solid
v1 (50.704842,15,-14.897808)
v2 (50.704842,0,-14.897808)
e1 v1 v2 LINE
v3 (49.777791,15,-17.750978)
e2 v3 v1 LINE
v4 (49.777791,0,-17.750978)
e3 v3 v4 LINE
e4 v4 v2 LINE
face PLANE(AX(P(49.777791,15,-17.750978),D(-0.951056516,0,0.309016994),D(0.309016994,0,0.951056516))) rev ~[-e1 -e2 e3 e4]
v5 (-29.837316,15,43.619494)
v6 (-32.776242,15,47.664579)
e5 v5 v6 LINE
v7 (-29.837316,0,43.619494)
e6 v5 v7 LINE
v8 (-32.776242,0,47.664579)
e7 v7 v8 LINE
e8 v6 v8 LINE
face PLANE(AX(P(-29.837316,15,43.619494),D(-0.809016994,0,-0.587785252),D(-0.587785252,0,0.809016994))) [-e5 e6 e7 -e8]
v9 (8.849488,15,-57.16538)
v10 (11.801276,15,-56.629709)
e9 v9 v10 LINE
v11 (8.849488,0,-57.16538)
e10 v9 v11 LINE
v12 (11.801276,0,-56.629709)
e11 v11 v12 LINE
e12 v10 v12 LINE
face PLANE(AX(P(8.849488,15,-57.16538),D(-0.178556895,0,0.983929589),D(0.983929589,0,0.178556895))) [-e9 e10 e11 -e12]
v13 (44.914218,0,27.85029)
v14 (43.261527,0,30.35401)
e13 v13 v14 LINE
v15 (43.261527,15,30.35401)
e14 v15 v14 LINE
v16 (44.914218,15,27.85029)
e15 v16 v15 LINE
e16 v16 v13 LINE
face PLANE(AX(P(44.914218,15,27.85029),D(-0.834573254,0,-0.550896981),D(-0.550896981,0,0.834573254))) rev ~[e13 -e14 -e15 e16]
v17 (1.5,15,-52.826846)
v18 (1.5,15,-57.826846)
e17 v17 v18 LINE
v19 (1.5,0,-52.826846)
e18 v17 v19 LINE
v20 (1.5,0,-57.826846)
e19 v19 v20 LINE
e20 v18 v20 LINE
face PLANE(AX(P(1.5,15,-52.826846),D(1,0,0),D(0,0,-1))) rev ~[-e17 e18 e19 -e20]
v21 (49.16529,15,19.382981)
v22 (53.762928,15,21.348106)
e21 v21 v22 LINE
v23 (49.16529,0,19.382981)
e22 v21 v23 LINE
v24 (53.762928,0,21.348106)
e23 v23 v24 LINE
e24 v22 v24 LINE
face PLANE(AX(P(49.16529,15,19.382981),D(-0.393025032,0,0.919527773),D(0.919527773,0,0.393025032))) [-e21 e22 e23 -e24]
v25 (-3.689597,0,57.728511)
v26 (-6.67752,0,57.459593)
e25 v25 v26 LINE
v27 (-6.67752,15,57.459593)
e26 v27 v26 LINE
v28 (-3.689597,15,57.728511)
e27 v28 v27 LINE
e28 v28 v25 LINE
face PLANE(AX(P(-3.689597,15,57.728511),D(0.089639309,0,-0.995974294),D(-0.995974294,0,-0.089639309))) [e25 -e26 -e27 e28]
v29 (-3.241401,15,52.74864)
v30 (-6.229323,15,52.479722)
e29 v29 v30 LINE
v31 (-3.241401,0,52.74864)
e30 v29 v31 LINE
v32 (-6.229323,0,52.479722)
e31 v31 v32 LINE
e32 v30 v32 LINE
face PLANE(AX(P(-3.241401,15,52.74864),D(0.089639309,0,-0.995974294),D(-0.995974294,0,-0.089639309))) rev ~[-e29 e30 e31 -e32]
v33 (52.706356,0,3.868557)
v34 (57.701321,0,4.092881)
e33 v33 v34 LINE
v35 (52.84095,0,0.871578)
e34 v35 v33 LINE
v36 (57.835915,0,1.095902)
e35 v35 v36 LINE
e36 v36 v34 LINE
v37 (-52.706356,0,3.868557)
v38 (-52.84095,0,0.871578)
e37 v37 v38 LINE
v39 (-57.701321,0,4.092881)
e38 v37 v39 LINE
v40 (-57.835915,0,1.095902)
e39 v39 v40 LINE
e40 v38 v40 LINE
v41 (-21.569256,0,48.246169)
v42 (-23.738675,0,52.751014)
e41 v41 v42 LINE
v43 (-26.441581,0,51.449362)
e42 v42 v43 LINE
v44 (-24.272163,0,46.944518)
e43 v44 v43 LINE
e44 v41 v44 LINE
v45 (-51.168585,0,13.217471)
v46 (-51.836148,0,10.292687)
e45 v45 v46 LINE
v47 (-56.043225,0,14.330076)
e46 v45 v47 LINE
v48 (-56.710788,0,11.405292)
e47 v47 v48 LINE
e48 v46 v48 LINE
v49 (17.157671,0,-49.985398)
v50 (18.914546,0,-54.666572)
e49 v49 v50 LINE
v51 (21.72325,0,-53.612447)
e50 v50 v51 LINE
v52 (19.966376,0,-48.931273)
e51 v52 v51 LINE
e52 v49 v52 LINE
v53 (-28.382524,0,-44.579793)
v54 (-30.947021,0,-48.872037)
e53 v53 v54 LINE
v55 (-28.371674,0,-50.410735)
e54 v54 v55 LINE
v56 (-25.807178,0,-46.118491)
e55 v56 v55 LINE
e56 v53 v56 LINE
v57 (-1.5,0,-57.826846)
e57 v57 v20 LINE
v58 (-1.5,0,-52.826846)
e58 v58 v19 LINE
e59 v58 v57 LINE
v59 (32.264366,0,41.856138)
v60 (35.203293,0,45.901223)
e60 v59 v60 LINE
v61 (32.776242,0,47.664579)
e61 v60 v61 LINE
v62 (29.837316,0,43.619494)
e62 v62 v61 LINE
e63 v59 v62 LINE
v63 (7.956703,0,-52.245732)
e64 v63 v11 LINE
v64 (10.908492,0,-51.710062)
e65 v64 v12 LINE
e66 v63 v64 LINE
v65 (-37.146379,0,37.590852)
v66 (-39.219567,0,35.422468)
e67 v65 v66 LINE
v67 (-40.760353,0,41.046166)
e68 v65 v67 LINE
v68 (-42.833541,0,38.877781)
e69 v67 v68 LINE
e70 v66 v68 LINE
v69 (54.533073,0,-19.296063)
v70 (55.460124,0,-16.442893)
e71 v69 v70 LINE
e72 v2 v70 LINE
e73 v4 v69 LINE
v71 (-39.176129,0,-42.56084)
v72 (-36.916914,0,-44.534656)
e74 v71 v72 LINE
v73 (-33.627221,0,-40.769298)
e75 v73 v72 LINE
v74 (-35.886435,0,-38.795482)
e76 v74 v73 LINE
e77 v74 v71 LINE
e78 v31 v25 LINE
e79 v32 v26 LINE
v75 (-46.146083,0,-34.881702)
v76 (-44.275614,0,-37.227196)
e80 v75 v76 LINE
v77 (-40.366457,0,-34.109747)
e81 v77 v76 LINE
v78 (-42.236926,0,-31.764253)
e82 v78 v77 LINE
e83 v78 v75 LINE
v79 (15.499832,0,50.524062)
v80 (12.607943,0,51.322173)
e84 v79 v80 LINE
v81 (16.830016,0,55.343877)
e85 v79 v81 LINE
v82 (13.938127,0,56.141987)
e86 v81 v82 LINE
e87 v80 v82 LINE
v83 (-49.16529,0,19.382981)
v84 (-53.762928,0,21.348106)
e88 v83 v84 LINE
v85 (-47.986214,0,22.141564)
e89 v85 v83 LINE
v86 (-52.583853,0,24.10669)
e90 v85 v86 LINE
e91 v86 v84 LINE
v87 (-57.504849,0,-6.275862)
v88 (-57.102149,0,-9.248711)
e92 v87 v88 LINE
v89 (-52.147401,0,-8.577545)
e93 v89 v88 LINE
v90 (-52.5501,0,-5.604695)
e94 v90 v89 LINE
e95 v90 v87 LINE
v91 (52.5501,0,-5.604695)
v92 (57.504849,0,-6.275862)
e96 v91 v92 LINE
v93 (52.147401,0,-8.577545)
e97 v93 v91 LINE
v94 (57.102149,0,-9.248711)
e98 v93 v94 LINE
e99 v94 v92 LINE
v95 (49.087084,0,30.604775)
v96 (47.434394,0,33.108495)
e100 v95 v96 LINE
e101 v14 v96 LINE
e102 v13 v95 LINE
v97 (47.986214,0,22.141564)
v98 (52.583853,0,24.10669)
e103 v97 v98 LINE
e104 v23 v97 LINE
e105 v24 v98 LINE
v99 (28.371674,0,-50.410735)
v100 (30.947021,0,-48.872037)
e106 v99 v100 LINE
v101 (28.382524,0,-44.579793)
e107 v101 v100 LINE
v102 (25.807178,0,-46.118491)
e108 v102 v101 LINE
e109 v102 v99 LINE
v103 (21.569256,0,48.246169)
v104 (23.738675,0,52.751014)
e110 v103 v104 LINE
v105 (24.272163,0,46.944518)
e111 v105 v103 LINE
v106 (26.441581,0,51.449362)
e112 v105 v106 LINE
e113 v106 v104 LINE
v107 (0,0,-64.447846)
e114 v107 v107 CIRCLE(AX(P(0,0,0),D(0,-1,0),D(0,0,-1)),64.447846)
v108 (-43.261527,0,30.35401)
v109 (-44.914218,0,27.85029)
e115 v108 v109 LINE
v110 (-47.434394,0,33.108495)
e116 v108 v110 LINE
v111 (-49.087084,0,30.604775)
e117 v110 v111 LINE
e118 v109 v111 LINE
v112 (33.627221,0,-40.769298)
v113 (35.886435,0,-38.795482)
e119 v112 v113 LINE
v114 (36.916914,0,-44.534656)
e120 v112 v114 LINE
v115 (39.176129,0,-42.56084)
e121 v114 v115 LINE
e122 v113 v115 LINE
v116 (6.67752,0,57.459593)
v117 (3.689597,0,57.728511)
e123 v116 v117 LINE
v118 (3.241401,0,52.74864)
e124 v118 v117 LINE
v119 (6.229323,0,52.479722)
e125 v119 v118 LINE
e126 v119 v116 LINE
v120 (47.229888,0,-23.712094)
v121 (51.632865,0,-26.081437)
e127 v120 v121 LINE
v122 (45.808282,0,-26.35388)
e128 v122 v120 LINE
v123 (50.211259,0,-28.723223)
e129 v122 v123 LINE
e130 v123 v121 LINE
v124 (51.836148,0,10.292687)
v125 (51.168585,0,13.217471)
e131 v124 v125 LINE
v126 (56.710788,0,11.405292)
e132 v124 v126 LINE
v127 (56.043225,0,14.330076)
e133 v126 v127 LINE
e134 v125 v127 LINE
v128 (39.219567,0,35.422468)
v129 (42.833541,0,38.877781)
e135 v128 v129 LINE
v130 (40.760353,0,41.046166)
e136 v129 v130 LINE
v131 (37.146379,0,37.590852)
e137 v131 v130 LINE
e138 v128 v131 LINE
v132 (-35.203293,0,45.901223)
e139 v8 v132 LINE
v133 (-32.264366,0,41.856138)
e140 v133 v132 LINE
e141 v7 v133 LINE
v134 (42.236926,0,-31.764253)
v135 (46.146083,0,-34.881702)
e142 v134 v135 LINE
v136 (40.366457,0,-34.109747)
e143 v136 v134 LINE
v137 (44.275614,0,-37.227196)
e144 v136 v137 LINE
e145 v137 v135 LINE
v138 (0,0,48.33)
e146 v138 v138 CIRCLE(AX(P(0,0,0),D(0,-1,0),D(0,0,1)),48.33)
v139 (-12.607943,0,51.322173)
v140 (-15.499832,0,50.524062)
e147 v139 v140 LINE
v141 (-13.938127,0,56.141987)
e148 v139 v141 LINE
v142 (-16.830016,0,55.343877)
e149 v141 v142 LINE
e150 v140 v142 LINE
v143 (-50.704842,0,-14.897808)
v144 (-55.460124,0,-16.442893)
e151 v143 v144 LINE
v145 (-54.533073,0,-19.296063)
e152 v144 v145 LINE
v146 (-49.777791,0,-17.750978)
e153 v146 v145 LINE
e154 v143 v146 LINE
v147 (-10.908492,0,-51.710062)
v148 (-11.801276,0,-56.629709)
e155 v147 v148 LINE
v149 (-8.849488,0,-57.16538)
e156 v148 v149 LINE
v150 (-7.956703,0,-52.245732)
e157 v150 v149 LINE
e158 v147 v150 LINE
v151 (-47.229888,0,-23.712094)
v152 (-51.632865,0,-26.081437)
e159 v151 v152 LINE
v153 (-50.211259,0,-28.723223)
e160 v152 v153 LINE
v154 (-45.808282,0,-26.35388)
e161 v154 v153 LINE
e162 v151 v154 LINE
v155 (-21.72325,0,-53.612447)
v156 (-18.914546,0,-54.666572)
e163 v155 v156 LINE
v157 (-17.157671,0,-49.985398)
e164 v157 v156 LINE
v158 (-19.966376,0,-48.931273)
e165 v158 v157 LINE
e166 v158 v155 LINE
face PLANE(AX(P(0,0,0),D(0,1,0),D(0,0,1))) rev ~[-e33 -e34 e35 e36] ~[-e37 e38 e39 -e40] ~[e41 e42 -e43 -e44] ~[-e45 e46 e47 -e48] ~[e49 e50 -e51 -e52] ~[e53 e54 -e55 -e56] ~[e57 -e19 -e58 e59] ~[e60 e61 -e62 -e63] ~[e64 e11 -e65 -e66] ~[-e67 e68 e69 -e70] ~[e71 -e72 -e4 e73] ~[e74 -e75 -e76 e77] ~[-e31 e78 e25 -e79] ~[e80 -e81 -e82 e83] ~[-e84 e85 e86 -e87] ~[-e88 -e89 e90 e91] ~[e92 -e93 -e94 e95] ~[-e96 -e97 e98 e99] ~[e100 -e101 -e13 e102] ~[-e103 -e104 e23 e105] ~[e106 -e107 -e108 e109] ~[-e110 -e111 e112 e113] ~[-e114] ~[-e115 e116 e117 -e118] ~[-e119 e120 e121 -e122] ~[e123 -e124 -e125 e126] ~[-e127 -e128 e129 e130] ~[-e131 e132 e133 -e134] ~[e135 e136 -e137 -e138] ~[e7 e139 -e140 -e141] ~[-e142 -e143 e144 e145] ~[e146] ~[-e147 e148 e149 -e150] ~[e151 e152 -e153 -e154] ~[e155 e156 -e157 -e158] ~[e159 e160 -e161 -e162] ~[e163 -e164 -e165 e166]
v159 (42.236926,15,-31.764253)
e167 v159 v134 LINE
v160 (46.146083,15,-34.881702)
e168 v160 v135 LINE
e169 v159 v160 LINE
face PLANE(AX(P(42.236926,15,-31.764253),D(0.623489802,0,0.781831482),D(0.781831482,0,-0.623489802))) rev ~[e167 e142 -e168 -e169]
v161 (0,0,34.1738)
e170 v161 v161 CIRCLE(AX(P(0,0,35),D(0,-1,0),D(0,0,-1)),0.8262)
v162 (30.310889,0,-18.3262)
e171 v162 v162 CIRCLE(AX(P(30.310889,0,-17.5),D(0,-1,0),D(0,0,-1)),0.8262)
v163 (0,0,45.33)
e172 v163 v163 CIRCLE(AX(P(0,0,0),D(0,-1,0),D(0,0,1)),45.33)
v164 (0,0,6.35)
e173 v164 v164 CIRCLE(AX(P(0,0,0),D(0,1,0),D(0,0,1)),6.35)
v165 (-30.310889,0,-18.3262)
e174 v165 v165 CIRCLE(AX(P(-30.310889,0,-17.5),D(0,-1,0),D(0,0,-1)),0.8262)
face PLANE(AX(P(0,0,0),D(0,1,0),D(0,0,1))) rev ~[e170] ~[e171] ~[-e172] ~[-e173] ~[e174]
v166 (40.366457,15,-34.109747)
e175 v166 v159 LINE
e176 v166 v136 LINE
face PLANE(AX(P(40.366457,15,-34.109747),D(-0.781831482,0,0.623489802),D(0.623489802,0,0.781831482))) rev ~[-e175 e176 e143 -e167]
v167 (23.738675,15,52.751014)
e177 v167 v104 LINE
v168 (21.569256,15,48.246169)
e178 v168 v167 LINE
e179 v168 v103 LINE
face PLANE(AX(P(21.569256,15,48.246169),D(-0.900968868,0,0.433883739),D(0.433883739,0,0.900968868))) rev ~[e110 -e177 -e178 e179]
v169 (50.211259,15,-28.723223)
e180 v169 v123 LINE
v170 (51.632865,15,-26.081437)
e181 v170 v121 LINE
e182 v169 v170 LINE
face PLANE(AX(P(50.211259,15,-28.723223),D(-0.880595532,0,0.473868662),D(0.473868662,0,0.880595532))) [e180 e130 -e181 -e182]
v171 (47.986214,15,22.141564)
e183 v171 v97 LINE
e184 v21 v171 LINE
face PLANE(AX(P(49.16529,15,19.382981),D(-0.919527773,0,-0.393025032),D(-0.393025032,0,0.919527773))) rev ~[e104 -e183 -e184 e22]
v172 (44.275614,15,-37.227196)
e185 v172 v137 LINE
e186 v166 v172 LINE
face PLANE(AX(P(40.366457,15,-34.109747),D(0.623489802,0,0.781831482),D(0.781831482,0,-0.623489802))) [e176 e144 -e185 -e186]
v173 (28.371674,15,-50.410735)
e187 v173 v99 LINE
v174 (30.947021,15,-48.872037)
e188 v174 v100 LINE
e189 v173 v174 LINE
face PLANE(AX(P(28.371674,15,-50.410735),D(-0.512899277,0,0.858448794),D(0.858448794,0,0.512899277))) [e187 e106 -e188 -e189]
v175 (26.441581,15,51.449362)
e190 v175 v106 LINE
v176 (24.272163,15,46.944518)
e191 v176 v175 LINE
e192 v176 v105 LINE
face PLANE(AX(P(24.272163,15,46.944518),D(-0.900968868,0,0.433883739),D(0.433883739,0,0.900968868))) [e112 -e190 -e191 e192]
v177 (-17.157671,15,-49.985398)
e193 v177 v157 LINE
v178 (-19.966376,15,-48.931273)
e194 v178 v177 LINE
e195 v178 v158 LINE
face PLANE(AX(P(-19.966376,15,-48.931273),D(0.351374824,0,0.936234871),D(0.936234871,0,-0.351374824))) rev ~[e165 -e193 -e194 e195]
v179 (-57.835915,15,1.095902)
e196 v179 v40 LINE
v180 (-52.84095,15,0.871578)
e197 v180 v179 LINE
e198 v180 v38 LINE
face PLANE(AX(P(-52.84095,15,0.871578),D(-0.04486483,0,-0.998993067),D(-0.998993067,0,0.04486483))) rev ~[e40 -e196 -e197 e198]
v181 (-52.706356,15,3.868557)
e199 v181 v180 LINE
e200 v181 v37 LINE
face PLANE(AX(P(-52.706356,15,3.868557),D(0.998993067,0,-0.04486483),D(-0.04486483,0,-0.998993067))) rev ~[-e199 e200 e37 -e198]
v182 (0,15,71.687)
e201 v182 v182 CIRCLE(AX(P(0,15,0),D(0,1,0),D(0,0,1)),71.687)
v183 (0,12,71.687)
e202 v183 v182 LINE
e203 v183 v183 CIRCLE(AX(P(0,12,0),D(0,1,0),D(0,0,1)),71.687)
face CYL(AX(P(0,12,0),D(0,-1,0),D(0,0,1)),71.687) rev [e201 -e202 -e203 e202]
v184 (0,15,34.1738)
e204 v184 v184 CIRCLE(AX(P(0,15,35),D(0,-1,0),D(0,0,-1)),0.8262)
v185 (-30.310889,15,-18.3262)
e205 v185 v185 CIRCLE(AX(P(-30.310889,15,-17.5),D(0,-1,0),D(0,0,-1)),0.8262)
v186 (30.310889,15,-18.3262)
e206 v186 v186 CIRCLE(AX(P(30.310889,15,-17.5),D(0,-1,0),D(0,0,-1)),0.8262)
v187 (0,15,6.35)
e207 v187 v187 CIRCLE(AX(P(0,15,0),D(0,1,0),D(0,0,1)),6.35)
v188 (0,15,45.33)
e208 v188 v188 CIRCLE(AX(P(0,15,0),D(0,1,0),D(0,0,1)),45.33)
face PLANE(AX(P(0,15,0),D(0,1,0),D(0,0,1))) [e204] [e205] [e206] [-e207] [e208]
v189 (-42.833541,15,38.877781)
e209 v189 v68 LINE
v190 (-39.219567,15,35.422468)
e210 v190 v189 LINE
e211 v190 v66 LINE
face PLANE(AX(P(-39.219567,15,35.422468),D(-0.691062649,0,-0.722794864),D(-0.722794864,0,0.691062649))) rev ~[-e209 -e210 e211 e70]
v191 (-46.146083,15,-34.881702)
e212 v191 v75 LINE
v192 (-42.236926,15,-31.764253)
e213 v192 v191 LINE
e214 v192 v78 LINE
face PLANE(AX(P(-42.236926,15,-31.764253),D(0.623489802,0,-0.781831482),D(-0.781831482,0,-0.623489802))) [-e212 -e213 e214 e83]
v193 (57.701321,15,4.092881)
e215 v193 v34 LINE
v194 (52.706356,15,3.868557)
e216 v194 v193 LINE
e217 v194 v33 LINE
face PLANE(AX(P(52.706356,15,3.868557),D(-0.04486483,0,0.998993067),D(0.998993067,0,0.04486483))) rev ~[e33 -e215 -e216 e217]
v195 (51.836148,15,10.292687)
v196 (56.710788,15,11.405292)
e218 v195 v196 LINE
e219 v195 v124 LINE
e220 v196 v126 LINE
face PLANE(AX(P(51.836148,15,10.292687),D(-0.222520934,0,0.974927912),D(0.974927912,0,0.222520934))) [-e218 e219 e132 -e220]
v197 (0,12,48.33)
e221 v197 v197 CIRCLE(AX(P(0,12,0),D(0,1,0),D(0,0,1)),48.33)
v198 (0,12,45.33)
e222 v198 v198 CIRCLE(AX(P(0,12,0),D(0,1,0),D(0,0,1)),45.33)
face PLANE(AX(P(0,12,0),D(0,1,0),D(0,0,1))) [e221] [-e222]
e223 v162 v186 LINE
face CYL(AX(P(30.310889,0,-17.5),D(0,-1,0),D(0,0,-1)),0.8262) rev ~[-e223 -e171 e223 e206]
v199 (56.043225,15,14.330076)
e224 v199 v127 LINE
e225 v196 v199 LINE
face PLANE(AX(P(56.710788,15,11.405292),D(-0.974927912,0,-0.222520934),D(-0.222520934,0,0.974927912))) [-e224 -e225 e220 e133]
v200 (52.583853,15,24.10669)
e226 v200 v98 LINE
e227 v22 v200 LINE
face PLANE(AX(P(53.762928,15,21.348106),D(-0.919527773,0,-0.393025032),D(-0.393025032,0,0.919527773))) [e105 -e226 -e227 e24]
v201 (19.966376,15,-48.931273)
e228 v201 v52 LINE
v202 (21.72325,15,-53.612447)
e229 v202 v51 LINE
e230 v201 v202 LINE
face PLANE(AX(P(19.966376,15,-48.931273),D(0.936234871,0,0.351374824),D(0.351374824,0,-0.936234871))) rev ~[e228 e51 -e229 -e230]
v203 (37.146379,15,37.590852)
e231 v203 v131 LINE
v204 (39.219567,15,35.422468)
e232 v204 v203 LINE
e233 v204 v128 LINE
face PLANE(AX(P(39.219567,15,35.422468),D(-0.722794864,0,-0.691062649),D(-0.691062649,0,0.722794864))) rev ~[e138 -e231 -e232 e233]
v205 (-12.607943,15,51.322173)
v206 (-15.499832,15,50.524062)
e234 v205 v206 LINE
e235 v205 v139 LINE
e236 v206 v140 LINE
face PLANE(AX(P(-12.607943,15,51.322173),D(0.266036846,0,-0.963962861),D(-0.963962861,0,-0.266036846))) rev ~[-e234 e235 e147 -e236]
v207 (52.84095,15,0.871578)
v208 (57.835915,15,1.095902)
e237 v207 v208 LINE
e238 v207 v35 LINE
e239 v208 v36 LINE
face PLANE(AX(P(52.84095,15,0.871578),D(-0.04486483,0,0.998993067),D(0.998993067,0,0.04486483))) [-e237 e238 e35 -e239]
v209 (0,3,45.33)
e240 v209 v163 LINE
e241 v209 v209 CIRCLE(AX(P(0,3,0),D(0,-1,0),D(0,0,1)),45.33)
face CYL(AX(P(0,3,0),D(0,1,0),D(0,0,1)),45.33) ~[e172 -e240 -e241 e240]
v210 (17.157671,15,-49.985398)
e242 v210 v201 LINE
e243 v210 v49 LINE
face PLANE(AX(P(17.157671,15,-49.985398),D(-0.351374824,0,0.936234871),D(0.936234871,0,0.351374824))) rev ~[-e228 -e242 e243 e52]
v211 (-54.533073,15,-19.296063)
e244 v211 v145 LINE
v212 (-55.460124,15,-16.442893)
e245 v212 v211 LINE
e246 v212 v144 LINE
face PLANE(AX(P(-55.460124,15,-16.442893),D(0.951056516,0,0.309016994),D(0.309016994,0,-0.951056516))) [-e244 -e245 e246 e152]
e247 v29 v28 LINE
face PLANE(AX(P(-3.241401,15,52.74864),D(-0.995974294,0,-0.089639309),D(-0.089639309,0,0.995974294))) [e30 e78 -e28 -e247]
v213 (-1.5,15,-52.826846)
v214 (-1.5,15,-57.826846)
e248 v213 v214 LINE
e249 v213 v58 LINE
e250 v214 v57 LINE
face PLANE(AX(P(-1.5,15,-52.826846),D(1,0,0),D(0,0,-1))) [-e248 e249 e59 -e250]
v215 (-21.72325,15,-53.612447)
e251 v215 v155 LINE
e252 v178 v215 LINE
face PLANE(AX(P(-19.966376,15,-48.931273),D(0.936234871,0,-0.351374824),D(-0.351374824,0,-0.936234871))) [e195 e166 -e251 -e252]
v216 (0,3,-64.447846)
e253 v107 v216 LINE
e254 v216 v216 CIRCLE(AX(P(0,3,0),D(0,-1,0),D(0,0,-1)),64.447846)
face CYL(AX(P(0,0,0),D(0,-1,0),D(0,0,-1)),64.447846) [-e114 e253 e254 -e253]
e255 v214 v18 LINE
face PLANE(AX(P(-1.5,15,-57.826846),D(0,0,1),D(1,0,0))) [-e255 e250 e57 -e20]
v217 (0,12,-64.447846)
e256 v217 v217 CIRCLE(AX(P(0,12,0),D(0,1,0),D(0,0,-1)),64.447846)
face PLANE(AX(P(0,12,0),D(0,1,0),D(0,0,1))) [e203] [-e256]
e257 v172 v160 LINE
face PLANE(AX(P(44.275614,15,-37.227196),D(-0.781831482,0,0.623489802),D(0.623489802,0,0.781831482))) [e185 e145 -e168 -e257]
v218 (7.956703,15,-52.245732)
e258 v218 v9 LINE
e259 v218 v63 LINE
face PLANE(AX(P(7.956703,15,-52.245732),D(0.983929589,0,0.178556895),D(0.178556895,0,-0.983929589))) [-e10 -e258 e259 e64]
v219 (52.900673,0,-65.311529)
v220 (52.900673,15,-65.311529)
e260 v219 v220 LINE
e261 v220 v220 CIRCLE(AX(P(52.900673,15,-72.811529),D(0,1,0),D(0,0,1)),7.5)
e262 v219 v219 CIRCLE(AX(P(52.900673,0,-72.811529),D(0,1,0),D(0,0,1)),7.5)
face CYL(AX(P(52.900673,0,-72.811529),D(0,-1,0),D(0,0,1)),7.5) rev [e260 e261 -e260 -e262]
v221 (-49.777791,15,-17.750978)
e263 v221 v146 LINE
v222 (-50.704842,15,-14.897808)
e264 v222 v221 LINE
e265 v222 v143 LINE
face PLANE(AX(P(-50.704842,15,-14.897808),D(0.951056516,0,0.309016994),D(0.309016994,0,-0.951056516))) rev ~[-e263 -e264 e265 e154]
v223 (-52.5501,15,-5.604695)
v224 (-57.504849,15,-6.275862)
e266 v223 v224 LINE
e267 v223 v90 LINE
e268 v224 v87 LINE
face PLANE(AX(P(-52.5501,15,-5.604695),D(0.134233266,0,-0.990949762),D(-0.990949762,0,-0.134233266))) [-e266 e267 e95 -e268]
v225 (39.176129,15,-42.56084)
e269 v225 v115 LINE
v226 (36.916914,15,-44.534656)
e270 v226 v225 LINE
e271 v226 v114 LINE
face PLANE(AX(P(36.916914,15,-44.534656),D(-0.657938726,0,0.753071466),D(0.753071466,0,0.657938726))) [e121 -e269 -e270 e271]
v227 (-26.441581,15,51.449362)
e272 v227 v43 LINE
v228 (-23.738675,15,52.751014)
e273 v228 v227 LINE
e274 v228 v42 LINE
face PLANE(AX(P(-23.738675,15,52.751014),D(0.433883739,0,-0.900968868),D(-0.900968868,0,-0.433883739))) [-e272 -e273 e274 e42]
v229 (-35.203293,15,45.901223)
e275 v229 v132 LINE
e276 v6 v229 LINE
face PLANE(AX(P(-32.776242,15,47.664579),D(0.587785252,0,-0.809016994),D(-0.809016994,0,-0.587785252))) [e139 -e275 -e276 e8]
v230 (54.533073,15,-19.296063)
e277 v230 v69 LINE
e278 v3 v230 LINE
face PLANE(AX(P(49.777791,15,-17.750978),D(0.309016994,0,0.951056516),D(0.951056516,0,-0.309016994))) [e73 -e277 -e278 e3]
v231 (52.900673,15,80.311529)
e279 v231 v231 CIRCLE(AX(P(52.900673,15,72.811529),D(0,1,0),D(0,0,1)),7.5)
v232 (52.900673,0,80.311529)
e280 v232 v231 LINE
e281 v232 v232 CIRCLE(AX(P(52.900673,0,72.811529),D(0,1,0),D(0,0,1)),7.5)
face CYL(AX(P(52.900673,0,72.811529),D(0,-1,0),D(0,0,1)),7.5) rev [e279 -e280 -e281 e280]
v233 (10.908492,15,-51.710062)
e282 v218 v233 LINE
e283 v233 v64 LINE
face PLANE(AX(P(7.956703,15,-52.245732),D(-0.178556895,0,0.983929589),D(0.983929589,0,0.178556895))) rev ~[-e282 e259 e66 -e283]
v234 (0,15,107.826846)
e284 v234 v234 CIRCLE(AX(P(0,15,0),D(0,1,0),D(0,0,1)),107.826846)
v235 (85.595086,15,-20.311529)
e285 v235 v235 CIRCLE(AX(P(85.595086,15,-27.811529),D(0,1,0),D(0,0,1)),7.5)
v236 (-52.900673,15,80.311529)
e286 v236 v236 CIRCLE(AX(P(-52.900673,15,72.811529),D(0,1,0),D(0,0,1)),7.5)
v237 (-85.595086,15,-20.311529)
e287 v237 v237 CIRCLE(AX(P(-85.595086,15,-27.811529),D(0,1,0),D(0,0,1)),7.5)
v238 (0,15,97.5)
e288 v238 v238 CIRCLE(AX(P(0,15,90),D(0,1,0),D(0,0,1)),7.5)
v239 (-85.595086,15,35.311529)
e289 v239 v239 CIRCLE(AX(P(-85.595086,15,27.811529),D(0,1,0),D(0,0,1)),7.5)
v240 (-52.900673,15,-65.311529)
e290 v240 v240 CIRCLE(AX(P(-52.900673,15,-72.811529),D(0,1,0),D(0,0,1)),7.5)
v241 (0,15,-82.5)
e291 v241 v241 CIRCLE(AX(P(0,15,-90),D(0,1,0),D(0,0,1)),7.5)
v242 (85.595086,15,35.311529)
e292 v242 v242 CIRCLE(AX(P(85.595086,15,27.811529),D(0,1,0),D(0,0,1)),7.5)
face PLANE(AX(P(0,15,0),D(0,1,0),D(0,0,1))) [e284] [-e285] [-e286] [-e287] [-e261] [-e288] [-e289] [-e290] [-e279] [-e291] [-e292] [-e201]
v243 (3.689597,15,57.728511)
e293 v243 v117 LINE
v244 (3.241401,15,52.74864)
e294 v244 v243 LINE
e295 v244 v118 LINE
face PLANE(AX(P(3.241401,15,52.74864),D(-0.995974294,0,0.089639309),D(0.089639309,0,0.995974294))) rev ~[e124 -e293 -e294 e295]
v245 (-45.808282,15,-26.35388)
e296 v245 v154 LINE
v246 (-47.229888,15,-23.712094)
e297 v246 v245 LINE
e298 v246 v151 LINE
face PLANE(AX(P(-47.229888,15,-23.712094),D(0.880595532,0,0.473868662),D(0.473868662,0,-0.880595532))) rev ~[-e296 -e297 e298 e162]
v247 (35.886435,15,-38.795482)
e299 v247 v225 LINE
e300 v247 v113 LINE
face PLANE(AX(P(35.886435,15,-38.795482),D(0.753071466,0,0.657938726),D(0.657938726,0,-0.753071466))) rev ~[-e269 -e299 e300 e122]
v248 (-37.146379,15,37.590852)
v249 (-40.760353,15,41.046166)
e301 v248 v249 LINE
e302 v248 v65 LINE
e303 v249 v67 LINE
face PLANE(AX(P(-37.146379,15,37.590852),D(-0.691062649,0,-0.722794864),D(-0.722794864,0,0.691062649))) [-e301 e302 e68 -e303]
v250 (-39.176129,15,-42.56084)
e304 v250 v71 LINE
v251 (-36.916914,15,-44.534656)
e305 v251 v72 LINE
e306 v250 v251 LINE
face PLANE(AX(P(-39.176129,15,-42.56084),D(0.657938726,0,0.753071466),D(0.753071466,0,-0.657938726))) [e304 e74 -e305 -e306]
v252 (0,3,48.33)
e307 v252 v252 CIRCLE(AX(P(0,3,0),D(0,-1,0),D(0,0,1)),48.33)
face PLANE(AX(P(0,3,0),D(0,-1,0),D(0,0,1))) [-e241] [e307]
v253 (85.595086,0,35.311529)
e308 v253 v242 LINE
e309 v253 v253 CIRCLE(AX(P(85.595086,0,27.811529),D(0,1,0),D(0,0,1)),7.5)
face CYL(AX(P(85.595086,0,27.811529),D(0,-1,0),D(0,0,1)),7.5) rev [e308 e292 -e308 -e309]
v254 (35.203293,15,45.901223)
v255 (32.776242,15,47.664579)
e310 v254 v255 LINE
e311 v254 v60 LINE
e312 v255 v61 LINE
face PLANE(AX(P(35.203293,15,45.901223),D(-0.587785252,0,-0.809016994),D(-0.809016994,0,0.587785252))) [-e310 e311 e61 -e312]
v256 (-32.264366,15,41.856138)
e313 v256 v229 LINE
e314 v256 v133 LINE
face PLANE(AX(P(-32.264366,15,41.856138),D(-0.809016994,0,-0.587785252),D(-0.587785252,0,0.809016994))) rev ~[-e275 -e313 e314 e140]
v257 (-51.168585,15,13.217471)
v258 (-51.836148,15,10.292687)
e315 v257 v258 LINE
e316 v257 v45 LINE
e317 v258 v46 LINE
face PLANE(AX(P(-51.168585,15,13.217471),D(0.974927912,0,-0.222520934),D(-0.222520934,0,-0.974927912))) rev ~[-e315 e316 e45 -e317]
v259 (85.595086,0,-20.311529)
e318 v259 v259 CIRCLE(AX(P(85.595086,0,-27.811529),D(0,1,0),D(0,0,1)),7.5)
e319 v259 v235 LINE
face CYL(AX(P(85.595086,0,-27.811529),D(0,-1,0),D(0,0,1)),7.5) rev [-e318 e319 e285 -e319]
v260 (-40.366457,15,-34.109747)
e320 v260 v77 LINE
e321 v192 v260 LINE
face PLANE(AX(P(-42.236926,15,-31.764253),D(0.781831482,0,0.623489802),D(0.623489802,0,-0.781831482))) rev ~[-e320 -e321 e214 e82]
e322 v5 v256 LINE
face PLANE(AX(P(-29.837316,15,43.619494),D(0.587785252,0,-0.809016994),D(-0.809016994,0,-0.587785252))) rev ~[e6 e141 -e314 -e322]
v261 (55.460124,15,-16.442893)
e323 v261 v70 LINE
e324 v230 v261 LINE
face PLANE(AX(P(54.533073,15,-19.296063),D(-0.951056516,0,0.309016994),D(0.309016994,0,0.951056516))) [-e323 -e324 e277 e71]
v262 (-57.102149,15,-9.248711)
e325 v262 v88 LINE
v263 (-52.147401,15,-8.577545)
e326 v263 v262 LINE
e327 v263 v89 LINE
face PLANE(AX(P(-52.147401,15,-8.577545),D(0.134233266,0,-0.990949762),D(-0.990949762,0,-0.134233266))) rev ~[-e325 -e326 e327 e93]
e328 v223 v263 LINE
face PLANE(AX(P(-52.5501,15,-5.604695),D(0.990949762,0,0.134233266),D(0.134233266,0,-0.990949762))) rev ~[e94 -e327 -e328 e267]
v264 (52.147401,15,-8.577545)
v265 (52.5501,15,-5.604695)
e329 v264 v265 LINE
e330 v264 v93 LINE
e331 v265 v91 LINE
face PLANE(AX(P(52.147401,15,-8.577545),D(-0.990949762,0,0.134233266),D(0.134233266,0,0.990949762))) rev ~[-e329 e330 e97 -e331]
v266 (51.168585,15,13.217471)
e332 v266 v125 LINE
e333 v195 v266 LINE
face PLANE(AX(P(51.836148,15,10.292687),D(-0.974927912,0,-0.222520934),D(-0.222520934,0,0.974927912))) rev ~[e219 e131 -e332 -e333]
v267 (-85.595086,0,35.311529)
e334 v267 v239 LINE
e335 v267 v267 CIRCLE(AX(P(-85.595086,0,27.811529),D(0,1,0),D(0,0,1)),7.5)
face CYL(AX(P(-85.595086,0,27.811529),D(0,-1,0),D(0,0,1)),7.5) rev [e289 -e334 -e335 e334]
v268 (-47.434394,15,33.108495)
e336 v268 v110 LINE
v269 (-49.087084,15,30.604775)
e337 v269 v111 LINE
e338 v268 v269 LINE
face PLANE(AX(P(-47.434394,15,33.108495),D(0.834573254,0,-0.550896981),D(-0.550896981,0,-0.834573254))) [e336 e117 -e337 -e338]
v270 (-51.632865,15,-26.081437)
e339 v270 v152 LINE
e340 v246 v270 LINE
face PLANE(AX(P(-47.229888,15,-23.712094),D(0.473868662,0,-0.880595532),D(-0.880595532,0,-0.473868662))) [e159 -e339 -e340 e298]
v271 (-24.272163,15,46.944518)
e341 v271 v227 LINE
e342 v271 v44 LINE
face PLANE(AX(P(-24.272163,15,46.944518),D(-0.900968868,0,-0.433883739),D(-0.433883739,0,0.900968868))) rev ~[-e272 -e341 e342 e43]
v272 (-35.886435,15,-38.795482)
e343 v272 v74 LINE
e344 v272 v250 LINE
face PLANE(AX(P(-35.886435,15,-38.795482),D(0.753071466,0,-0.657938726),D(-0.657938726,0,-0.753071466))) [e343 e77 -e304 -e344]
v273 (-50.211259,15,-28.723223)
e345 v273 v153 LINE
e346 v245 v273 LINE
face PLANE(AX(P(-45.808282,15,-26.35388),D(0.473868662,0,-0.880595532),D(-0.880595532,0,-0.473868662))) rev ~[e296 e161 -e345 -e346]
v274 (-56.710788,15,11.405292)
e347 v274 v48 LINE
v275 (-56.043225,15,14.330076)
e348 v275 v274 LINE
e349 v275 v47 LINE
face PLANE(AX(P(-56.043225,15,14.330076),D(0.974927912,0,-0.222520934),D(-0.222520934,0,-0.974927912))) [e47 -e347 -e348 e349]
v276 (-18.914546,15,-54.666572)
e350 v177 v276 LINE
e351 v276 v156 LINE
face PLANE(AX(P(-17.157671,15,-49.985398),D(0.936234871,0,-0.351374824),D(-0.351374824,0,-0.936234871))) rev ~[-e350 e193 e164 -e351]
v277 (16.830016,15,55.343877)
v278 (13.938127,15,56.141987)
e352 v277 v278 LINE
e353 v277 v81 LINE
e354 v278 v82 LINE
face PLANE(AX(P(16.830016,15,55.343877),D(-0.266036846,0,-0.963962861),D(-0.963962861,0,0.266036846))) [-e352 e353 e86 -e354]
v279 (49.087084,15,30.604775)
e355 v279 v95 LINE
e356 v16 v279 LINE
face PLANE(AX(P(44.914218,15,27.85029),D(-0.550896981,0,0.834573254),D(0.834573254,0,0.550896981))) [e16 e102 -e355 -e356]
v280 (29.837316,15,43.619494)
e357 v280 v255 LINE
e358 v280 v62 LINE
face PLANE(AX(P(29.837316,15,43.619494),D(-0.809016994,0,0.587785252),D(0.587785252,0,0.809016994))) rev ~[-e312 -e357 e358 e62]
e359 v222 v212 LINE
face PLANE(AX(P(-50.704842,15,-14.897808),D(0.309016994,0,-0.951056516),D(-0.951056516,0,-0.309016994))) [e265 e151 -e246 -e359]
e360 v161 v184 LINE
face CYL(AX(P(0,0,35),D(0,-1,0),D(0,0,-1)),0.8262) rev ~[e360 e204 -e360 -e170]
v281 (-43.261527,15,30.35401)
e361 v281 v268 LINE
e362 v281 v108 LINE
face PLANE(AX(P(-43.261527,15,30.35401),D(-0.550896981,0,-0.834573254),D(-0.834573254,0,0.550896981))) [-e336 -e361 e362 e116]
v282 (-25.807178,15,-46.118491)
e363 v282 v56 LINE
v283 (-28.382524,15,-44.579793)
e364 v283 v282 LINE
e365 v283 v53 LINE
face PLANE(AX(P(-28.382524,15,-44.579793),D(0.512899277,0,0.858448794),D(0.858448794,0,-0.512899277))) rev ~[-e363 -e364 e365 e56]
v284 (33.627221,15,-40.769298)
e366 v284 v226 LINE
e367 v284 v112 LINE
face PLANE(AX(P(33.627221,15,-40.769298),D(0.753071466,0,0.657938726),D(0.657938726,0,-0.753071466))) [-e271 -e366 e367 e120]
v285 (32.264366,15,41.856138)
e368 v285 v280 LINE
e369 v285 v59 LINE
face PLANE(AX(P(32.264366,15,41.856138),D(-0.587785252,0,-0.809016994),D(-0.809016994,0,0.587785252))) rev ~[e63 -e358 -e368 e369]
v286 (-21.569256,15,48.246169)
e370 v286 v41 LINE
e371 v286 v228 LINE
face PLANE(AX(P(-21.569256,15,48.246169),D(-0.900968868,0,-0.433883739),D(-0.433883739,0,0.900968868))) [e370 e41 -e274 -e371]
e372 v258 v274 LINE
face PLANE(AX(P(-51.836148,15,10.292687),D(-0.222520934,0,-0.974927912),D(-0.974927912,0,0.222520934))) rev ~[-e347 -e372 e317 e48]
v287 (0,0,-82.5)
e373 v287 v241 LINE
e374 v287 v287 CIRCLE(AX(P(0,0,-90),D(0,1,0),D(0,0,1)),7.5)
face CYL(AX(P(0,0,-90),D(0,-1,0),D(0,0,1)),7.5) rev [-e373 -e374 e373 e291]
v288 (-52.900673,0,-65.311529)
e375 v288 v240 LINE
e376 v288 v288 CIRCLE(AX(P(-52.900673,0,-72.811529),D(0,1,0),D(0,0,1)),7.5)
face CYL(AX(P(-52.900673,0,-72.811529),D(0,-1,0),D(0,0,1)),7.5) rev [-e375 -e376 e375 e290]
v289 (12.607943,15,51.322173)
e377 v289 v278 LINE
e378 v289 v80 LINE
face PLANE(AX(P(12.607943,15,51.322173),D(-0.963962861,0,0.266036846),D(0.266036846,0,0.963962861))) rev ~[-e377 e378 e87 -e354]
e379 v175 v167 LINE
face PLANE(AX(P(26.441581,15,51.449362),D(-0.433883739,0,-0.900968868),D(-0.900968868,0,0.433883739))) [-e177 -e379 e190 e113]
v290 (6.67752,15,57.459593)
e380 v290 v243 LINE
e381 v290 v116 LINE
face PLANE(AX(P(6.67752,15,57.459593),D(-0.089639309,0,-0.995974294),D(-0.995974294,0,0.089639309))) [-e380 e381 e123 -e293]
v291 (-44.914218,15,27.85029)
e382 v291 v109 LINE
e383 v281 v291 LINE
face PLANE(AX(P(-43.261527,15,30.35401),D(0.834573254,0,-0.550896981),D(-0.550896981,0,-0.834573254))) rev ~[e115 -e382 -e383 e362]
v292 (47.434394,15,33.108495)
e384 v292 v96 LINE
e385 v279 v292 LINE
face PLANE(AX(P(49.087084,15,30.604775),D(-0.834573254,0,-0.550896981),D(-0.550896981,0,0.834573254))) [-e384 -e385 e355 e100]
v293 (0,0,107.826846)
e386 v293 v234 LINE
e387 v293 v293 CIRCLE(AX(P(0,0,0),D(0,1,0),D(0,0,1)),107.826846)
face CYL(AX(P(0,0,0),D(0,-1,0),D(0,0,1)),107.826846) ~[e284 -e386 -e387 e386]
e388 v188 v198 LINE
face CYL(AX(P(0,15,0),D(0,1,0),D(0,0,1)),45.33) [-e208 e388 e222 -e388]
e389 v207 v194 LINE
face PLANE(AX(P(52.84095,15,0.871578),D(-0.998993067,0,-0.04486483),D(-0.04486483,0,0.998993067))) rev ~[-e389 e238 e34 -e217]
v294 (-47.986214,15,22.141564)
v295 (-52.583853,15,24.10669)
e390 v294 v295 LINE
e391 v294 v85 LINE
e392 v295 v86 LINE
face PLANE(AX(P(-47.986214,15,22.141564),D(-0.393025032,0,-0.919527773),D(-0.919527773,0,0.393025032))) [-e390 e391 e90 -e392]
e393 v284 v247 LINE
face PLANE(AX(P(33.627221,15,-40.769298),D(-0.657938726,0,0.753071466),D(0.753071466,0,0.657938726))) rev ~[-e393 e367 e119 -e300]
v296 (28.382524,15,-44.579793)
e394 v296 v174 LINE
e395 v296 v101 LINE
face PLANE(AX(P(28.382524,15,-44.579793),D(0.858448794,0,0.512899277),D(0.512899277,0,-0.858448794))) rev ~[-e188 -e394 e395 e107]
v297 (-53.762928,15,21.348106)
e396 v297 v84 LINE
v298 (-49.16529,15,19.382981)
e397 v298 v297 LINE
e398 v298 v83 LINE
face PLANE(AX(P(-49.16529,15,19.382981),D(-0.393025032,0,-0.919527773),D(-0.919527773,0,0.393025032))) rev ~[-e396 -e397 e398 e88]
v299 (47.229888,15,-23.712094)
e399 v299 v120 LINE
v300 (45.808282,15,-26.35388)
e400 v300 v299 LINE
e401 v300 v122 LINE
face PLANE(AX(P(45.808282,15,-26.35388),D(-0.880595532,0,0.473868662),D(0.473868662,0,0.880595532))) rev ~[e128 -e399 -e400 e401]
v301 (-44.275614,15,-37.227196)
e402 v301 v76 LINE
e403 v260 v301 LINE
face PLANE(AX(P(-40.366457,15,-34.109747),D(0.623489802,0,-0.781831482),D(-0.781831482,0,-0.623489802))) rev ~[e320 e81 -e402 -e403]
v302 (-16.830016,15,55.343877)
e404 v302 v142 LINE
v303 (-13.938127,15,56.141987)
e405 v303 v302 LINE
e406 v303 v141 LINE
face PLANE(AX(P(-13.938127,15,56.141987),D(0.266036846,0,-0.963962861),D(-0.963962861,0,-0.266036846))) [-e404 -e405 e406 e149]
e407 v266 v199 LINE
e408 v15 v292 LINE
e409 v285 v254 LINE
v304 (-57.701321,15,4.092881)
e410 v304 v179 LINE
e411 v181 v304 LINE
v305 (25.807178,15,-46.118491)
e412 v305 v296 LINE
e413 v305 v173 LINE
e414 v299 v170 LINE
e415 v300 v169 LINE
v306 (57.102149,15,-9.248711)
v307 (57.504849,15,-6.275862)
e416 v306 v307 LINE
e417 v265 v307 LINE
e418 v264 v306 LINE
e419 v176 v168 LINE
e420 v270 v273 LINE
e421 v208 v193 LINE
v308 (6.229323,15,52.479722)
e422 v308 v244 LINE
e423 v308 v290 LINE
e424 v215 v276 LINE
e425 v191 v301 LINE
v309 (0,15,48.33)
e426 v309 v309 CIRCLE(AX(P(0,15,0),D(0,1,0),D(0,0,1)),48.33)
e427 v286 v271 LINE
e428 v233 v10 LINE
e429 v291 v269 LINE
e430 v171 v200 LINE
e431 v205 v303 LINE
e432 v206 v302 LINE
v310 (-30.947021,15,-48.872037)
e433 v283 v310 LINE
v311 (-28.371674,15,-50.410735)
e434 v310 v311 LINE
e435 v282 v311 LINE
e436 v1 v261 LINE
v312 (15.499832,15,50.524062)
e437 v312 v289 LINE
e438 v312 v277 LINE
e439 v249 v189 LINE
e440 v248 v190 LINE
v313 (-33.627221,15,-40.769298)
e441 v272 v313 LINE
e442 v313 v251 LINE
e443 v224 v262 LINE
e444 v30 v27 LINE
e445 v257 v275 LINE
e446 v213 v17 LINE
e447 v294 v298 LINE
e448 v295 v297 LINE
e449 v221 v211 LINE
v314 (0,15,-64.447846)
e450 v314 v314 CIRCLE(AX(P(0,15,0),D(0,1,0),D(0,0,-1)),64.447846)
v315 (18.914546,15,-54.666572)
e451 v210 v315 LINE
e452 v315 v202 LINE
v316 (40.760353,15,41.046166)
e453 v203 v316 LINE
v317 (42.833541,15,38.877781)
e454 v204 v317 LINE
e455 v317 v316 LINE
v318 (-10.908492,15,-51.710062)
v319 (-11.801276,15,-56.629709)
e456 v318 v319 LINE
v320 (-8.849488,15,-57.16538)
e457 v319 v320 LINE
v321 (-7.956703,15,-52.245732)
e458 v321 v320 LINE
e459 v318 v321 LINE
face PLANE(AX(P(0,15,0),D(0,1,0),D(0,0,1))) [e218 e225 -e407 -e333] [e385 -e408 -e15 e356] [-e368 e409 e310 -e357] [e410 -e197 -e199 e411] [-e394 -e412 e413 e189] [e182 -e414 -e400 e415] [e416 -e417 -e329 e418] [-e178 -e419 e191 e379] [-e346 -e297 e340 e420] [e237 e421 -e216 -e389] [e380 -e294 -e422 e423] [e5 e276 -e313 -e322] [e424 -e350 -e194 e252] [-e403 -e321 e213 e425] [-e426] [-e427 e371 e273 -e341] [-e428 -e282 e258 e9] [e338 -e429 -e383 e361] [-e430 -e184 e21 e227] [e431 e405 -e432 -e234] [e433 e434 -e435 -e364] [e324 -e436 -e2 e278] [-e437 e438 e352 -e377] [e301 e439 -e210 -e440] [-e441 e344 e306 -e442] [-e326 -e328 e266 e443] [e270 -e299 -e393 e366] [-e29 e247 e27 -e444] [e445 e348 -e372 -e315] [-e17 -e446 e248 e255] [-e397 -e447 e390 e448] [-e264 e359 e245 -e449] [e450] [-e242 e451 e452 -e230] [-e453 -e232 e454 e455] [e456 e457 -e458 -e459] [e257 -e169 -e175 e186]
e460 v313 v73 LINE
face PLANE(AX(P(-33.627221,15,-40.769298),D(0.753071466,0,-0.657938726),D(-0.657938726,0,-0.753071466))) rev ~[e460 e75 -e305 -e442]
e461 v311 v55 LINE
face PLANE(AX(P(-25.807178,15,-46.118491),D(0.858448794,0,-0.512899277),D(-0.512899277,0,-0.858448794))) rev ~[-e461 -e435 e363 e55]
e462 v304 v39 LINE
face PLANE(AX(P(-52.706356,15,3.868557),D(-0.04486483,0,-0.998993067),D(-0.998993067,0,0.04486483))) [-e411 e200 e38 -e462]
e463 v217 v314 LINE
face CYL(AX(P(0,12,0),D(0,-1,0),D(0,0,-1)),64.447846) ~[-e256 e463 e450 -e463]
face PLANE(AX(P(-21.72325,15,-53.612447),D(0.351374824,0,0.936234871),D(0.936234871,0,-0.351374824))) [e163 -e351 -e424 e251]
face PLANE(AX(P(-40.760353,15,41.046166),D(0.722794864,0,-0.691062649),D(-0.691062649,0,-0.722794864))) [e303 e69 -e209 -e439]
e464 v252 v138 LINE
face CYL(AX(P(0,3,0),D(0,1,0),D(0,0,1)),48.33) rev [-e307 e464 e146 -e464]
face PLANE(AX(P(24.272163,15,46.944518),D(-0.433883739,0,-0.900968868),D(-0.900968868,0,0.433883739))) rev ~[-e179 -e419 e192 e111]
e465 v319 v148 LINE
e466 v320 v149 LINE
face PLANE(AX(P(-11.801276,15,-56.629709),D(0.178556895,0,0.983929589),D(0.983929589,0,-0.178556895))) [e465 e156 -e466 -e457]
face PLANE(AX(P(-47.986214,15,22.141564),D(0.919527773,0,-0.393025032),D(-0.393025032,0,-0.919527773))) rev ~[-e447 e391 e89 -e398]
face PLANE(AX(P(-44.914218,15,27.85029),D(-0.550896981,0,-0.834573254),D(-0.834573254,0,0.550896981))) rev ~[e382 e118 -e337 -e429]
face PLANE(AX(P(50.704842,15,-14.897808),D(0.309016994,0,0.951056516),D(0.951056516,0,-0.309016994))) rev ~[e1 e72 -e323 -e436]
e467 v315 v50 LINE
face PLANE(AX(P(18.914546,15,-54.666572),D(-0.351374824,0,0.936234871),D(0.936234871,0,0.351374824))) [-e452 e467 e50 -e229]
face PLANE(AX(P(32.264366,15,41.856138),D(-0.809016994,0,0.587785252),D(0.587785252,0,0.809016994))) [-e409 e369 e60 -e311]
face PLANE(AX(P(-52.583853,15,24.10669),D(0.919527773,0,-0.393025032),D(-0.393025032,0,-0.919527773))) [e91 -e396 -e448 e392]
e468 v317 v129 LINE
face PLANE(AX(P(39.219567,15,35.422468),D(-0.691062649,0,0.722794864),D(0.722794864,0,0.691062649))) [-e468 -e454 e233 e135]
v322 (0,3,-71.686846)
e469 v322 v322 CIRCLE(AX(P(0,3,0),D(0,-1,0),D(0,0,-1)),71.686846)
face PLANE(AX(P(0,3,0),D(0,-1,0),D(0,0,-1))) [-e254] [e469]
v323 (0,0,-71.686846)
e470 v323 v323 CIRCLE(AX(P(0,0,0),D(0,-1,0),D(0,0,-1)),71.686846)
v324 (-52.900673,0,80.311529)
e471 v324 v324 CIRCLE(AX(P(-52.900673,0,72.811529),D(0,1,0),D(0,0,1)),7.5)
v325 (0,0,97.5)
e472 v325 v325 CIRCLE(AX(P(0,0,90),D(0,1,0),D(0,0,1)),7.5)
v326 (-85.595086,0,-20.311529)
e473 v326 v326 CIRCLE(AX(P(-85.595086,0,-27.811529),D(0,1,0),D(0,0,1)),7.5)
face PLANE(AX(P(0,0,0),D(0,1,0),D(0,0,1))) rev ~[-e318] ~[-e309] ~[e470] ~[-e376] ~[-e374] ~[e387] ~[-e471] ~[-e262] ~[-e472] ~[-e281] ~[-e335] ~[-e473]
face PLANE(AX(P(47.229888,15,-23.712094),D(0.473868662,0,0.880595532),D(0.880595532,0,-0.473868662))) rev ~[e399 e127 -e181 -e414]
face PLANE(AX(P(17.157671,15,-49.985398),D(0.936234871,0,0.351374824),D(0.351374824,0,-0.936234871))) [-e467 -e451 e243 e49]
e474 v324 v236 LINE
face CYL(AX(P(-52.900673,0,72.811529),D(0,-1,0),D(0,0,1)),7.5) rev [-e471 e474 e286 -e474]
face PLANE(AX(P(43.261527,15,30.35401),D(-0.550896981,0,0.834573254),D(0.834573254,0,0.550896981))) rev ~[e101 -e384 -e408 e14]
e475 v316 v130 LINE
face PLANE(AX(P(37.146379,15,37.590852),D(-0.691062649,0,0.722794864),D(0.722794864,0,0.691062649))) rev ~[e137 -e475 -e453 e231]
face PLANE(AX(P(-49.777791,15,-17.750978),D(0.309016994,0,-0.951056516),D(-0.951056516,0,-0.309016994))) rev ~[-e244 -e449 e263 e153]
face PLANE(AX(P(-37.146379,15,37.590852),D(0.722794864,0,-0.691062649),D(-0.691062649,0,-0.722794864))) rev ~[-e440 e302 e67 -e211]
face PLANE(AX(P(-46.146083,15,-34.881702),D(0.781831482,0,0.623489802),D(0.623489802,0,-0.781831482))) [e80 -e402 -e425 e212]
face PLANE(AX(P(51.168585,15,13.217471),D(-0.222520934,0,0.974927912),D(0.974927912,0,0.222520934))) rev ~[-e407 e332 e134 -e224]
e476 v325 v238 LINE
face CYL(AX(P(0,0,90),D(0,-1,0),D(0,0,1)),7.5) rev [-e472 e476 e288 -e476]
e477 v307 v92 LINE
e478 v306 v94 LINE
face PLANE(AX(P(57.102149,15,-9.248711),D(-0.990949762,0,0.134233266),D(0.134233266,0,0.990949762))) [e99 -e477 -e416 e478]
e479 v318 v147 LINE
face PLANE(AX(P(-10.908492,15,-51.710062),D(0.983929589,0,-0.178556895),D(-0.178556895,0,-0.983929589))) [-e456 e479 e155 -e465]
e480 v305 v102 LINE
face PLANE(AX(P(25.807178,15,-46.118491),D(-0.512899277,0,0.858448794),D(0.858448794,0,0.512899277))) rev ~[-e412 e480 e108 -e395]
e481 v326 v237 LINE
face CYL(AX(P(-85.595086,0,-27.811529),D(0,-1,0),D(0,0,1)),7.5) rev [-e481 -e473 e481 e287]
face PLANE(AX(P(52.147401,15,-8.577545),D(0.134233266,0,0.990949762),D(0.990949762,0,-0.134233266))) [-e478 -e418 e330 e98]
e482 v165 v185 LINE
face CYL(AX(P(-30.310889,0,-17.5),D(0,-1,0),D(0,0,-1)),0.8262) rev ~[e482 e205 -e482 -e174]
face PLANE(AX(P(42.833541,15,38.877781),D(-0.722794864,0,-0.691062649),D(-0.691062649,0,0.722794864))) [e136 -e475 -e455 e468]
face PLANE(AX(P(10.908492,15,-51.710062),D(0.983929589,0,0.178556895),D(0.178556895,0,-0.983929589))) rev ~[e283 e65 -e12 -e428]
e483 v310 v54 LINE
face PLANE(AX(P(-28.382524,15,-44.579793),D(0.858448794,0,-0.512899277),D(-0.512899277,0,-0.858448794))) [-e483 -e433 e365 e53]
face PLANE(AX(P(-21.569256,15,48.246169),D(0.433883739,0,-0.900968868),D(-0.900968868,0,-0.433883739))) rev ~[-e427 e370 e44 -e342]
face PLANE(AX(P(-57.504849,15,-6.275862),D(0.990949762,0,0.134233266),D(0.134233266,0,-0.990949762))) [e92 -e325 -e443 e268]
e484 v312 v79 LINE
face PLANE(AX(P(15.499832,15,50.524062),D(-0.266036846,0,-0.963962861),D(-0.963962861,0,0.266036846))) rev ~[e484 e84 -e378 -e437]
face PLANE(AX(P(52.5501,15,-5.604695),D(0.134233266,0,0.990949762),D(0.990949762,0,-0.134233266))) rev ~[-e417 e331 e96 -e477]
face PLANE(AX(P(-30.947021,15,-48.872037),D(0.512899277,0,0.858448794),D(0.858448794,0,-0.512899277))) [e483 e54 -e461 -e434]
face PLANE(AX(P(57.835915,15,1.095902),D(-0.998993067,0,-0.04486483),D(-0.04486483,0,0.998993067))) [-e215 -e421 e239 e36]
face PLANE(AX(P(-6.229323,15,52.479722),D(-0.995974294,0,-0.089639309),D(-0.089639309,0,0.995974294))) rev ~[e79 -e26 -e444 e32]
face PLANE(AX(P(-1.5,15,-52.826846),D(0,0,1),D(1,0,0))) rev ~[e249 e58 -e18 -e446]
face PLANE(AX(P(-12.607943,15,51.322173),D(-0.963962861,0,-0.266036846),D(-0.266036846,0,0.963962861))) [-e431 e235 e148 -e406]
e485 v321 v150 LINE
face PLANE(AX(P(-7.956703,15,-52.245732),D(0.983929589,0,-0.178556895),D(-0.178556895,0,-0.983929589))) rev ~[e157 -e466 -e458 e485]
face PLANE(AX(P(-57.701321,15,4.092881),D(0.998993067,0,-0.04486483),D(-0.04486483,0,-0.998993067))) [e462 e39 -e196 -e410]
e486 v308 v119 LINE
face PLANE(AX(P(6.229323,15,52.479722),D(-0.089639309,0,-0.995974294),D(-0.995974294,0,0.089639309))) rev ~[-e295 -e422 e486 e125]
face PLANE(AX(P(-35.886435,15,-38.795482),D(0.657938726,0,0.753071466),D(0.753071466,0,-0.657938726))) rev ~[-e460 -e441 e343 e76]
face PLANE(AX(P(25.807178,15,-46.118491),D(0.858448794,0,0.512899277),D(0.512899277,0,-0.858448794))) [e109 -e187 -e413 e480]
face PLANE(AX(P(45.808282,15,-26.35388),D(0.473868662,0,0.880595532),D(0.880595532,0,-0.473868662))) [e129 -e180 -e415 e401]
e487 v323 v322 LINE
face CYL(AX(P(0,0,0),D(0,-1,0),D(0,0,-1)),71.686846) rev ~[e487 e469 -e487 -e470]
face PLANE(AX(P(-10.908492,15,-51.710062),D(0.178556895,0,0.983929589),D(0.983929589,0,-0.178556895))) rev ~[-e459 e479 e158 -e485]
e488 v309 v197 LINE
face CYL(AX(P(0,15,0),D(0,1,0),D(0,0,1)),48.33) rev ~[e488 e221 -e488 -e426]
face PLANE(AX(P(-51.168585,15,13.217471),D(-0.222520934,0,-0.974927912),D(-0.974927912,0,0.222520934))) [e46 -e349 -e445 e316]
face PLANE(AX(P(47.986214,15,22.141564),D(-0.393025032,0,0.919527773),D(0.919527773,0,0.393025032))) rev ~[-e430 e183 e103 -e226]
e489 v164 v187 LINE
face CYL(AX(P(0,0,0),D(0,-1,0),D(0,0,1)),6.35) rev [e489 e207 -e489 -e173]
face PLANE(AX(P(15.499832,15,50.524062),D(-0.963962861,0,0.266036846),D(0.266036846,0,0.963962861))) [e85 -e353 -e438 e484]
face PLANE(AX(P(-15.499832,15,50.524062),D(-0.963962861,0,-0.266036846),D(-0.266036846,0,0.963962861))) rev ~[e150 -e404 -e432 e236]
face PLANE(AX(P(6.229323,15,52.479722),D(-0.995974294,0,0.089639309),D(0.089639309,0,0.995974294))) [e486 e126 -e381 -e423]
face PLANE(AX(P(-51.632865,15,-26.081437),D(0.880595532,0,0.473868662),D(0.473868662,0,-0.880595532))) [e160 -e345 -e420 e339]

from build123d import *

# Parameters (mm, degrees)
SKETCH1_R                       = 107.826846
SKETCH1_R_2                     = 7.5
SKETCH1_R_3                     = 6.35
FACEPLATE_EXTRUSION_DEPTH       = 15
REGEN_CHANNELS_W                = 3
REGEN_CHANNELS_H                = 5
REGEN_CHANNEL_DEPTH             = 154.226164334
REGEN_CHANNELS_REVOLVE_COUNT    = 35
SKETCH30_R                      = 71.686846
SKETCH30_R_2                    = 64.447846
INTERFACING_O_RING_SLOT_1_DEPTH = 3
INTERFACING_START               = -3
SKETCH32_R                      = 71.687
SKETCH32_R_2                    = 64.447846
INTERFACING_O_RING_SLOT_2_DEPTH = 3
SKETCH33_R                      = 48.33
SKETCH33_R_2                    = 45.33
MANIFOLD_O_RING_SLOT_1_DEPTH    = 3
MANIFOLD_START                  = -3
SKETCH34_R                      = 48.33
SKETCH34_R_2                    = 45.33
MANIFOLD_O_RING_SLOT_2_DEPTH    = 3
SKETCH35_R                      = 0.8262
FUEL_BYPASS_CHANNELS_DEPTH      = 154.226164334


with BuildPart() as part:
    # Sketch1 → Faceplate Extrusion (new body)
    with BuildSketch(Plane(origin=(0, 0, 0), x_dir=(1, 0, 0), z_dir=(0, 1, 0))):
        with Locations(Location((0, 0, 0), (0, 0, 270))):
            Circle(SKETCH1_R)
        with Locations(Location((0, 90, 0), (0, 0, 270))):
            Circle(SKETCH1_R_2, mode=Mode.SUBTRACT)
        with Locations(Location((52.900672706, 72.811529494, 0), (0, 0, 270))):
            Circle(SKETCH1_R_2, mode=Mode.SUBTRACT)
        with Locations(Location((85.595086467, 27.811529494, 0), (0, 0, 270))):
            Circle(SKETCH1_R_2, mode=Mode.SUBTRACT)
        with Locations(Location((85.595086467, -27.811529494, 0), (0, 0, 270))):
            Circle(SKETCH1_R_2, mode=Mode.SUBTRACT)
        with Locations(Location((52.900672706, -72.811529494, 0), (0, 0, 270))):
            Circle(SKETCH1_R_2, mode=Mode.SUBTRACT)
        with Locations(Location((0, -90, 0), (0, 0, 270))):
            Circle(SKETCH1_R_2, mode=Mode.SUBTRACT)
        with Locations(Location((-52.900672706, -72.811529494, 0), (0, 0, 270))):
            Circle(SKETCH1_R_2, mode=Mode.SUBTRACT)
        with Locations(Location((-85.595086467, -27.811529494, 0), (0, 0, 270))):
            Circle(SKETCH1_R_2, mode=Mode.SUBTRACT)
        with Locations(Location((-85.595086467, 27.811529494, 0), (0, 0, 270))):
            Circle(SKETCH1_R_2, mode=Mode.SUBTRACT)
        with Locations(Location((-52.900672706, 72.811529494, 0), (0, 0, 270))):
            Circle(SKETCH1_R_2, mode=Mode.SUBTRACT)
        with Locations(Location((0, 0, 0), (0, 0, 270))):
            Circle(SKETCH1_R_3, mode=Mode.SUBTRACT)
    extrude(amount=FACEPLATE_EXTRUSION_DEPTH)

    # Regen Channels → Regen Channel (cut, through all)
    with BuildSketch(Plane(origin=(0, 15, 0), x_dir=(1, 0, 0), z_dir=(0, 1, 0))):
        with Locations((0, 55.326846)):
            Rectangle(REGEN_CHANNELS_W, REGEN_CHANNELS_H)
    regen_channel = extrude(amount=-REGEN_CHANNEL_DEPTH, mode=Mode.SUBTRACT)

    # Regen Channels Revolve: Regen Channel ×35 about axis
    regen_channels_revolve_axis = Axis((0, 0, 0), (0, 1, 0))
    for i in range(1, REGEN_CHANNELS_REVOLVE_COUNT):
        add(regen_channel.rotate(regen_channels_revolve_axis, i * 360 / REGEN_CHANNELS_REVOLVE_COUNT), mode=Mode.SUBTRACT)

    # Sketch30 → Interfacing O-Ring Slot 1 (cut)
    with BuildSketch(Plane.XZ):
        with Locations(Location((0, 0, 0), (0, 0, 270))):
            Circle(SKETCH30_R)
        with Locations(Location((0, 0, 0), (0, 0, 270))):
            Circle(SKETCH30_R_2, mode=Mode.SUBTRACT)
    extrude(amount=-INTERFACING_O_RING_SLOT_1_DEPTH, mode=Mode.SUBTRACT)

    # Sketch32 → Interfacing O-Ring Slot 2 (cut)
    with BuildSketch(Plane(origin=(0, 15, 0), x_dir=(1, 0, 0), z_dir=(0, 1, 0)).offset(INTERFACING_START)):
        with Locations(Location((0, 0, 0), (0, 0, 270))):
            Circle(SKETCH32_R)
        with Locations(Location((0, 0, 0), (0, 0, 90))):
            Circle(SKETCH32_R_2, mode=Mode.SUBTRACT)
    extrude(amount=INTERFACING_O_RING_SLOT_2_DEPTH, mode=Mode.SUBTRACT)

    # Sketch33 → Manifold O-Ring Slot 1 (cut)
    with BuildSketch(Plane(origin=(0, 15, 0), x_dir=(1, 0, 0), z_dir=(0, 1, 0))):
        with Locations(Location((0, 0, 0), (0, 0, 270))):
            Circle(SKETCH33_R)
        with Locations(Location((0, 0, 0), (0, 0, 270))):
            Circle(SKETCH33_R_2, mode=Mode.SUBTRACT)
    extrude(amount=-MANIFOLD_O_RING_SLOT_1_DEPTH, mode=Mode.SUBTRACT)

    # Sketch34 → Manifold O-Ring Slot 2 (cut)
    with BuildSketch(Plane.XZ.offset(MANIFOLD_START)):
        with Locations(Location((0, 0, 0), (0, 0, 90))):
            Circle(SKETCH34_R)
        with Locations(Location((0, 0, 0), (0, 0, 90))):
            Circle(SKETCH34_R_2, mode=Mode.SUBTRACT)
    extrude(amount=MANIFOLD_O_RING_SLOT_2_DEPTH, mode=Mode.SUBTRACT)

    # Sketch35 → Fuel Bypass Channels (cut, through all)
    with BuildSketch(Plane.XZ):
        with Locations(Location((0, 35, 0), (0, 0, 270))):
            Circle(SKETCH35_R)
        with Locations(Location((30.310889132, -17.5, 0), (0, 0, 270))):
            Circle(SKETCH35_R)
        with Locations(Location((-30.310889132, -17.5, 0), (0, 0, 270))):
            Circle(SKETCH35_R)
    extrude(amount=-FUEL_BYPASS_CHANNELS_DEPTH, mode=Mode.SUBTRACT)


solid = part.part
